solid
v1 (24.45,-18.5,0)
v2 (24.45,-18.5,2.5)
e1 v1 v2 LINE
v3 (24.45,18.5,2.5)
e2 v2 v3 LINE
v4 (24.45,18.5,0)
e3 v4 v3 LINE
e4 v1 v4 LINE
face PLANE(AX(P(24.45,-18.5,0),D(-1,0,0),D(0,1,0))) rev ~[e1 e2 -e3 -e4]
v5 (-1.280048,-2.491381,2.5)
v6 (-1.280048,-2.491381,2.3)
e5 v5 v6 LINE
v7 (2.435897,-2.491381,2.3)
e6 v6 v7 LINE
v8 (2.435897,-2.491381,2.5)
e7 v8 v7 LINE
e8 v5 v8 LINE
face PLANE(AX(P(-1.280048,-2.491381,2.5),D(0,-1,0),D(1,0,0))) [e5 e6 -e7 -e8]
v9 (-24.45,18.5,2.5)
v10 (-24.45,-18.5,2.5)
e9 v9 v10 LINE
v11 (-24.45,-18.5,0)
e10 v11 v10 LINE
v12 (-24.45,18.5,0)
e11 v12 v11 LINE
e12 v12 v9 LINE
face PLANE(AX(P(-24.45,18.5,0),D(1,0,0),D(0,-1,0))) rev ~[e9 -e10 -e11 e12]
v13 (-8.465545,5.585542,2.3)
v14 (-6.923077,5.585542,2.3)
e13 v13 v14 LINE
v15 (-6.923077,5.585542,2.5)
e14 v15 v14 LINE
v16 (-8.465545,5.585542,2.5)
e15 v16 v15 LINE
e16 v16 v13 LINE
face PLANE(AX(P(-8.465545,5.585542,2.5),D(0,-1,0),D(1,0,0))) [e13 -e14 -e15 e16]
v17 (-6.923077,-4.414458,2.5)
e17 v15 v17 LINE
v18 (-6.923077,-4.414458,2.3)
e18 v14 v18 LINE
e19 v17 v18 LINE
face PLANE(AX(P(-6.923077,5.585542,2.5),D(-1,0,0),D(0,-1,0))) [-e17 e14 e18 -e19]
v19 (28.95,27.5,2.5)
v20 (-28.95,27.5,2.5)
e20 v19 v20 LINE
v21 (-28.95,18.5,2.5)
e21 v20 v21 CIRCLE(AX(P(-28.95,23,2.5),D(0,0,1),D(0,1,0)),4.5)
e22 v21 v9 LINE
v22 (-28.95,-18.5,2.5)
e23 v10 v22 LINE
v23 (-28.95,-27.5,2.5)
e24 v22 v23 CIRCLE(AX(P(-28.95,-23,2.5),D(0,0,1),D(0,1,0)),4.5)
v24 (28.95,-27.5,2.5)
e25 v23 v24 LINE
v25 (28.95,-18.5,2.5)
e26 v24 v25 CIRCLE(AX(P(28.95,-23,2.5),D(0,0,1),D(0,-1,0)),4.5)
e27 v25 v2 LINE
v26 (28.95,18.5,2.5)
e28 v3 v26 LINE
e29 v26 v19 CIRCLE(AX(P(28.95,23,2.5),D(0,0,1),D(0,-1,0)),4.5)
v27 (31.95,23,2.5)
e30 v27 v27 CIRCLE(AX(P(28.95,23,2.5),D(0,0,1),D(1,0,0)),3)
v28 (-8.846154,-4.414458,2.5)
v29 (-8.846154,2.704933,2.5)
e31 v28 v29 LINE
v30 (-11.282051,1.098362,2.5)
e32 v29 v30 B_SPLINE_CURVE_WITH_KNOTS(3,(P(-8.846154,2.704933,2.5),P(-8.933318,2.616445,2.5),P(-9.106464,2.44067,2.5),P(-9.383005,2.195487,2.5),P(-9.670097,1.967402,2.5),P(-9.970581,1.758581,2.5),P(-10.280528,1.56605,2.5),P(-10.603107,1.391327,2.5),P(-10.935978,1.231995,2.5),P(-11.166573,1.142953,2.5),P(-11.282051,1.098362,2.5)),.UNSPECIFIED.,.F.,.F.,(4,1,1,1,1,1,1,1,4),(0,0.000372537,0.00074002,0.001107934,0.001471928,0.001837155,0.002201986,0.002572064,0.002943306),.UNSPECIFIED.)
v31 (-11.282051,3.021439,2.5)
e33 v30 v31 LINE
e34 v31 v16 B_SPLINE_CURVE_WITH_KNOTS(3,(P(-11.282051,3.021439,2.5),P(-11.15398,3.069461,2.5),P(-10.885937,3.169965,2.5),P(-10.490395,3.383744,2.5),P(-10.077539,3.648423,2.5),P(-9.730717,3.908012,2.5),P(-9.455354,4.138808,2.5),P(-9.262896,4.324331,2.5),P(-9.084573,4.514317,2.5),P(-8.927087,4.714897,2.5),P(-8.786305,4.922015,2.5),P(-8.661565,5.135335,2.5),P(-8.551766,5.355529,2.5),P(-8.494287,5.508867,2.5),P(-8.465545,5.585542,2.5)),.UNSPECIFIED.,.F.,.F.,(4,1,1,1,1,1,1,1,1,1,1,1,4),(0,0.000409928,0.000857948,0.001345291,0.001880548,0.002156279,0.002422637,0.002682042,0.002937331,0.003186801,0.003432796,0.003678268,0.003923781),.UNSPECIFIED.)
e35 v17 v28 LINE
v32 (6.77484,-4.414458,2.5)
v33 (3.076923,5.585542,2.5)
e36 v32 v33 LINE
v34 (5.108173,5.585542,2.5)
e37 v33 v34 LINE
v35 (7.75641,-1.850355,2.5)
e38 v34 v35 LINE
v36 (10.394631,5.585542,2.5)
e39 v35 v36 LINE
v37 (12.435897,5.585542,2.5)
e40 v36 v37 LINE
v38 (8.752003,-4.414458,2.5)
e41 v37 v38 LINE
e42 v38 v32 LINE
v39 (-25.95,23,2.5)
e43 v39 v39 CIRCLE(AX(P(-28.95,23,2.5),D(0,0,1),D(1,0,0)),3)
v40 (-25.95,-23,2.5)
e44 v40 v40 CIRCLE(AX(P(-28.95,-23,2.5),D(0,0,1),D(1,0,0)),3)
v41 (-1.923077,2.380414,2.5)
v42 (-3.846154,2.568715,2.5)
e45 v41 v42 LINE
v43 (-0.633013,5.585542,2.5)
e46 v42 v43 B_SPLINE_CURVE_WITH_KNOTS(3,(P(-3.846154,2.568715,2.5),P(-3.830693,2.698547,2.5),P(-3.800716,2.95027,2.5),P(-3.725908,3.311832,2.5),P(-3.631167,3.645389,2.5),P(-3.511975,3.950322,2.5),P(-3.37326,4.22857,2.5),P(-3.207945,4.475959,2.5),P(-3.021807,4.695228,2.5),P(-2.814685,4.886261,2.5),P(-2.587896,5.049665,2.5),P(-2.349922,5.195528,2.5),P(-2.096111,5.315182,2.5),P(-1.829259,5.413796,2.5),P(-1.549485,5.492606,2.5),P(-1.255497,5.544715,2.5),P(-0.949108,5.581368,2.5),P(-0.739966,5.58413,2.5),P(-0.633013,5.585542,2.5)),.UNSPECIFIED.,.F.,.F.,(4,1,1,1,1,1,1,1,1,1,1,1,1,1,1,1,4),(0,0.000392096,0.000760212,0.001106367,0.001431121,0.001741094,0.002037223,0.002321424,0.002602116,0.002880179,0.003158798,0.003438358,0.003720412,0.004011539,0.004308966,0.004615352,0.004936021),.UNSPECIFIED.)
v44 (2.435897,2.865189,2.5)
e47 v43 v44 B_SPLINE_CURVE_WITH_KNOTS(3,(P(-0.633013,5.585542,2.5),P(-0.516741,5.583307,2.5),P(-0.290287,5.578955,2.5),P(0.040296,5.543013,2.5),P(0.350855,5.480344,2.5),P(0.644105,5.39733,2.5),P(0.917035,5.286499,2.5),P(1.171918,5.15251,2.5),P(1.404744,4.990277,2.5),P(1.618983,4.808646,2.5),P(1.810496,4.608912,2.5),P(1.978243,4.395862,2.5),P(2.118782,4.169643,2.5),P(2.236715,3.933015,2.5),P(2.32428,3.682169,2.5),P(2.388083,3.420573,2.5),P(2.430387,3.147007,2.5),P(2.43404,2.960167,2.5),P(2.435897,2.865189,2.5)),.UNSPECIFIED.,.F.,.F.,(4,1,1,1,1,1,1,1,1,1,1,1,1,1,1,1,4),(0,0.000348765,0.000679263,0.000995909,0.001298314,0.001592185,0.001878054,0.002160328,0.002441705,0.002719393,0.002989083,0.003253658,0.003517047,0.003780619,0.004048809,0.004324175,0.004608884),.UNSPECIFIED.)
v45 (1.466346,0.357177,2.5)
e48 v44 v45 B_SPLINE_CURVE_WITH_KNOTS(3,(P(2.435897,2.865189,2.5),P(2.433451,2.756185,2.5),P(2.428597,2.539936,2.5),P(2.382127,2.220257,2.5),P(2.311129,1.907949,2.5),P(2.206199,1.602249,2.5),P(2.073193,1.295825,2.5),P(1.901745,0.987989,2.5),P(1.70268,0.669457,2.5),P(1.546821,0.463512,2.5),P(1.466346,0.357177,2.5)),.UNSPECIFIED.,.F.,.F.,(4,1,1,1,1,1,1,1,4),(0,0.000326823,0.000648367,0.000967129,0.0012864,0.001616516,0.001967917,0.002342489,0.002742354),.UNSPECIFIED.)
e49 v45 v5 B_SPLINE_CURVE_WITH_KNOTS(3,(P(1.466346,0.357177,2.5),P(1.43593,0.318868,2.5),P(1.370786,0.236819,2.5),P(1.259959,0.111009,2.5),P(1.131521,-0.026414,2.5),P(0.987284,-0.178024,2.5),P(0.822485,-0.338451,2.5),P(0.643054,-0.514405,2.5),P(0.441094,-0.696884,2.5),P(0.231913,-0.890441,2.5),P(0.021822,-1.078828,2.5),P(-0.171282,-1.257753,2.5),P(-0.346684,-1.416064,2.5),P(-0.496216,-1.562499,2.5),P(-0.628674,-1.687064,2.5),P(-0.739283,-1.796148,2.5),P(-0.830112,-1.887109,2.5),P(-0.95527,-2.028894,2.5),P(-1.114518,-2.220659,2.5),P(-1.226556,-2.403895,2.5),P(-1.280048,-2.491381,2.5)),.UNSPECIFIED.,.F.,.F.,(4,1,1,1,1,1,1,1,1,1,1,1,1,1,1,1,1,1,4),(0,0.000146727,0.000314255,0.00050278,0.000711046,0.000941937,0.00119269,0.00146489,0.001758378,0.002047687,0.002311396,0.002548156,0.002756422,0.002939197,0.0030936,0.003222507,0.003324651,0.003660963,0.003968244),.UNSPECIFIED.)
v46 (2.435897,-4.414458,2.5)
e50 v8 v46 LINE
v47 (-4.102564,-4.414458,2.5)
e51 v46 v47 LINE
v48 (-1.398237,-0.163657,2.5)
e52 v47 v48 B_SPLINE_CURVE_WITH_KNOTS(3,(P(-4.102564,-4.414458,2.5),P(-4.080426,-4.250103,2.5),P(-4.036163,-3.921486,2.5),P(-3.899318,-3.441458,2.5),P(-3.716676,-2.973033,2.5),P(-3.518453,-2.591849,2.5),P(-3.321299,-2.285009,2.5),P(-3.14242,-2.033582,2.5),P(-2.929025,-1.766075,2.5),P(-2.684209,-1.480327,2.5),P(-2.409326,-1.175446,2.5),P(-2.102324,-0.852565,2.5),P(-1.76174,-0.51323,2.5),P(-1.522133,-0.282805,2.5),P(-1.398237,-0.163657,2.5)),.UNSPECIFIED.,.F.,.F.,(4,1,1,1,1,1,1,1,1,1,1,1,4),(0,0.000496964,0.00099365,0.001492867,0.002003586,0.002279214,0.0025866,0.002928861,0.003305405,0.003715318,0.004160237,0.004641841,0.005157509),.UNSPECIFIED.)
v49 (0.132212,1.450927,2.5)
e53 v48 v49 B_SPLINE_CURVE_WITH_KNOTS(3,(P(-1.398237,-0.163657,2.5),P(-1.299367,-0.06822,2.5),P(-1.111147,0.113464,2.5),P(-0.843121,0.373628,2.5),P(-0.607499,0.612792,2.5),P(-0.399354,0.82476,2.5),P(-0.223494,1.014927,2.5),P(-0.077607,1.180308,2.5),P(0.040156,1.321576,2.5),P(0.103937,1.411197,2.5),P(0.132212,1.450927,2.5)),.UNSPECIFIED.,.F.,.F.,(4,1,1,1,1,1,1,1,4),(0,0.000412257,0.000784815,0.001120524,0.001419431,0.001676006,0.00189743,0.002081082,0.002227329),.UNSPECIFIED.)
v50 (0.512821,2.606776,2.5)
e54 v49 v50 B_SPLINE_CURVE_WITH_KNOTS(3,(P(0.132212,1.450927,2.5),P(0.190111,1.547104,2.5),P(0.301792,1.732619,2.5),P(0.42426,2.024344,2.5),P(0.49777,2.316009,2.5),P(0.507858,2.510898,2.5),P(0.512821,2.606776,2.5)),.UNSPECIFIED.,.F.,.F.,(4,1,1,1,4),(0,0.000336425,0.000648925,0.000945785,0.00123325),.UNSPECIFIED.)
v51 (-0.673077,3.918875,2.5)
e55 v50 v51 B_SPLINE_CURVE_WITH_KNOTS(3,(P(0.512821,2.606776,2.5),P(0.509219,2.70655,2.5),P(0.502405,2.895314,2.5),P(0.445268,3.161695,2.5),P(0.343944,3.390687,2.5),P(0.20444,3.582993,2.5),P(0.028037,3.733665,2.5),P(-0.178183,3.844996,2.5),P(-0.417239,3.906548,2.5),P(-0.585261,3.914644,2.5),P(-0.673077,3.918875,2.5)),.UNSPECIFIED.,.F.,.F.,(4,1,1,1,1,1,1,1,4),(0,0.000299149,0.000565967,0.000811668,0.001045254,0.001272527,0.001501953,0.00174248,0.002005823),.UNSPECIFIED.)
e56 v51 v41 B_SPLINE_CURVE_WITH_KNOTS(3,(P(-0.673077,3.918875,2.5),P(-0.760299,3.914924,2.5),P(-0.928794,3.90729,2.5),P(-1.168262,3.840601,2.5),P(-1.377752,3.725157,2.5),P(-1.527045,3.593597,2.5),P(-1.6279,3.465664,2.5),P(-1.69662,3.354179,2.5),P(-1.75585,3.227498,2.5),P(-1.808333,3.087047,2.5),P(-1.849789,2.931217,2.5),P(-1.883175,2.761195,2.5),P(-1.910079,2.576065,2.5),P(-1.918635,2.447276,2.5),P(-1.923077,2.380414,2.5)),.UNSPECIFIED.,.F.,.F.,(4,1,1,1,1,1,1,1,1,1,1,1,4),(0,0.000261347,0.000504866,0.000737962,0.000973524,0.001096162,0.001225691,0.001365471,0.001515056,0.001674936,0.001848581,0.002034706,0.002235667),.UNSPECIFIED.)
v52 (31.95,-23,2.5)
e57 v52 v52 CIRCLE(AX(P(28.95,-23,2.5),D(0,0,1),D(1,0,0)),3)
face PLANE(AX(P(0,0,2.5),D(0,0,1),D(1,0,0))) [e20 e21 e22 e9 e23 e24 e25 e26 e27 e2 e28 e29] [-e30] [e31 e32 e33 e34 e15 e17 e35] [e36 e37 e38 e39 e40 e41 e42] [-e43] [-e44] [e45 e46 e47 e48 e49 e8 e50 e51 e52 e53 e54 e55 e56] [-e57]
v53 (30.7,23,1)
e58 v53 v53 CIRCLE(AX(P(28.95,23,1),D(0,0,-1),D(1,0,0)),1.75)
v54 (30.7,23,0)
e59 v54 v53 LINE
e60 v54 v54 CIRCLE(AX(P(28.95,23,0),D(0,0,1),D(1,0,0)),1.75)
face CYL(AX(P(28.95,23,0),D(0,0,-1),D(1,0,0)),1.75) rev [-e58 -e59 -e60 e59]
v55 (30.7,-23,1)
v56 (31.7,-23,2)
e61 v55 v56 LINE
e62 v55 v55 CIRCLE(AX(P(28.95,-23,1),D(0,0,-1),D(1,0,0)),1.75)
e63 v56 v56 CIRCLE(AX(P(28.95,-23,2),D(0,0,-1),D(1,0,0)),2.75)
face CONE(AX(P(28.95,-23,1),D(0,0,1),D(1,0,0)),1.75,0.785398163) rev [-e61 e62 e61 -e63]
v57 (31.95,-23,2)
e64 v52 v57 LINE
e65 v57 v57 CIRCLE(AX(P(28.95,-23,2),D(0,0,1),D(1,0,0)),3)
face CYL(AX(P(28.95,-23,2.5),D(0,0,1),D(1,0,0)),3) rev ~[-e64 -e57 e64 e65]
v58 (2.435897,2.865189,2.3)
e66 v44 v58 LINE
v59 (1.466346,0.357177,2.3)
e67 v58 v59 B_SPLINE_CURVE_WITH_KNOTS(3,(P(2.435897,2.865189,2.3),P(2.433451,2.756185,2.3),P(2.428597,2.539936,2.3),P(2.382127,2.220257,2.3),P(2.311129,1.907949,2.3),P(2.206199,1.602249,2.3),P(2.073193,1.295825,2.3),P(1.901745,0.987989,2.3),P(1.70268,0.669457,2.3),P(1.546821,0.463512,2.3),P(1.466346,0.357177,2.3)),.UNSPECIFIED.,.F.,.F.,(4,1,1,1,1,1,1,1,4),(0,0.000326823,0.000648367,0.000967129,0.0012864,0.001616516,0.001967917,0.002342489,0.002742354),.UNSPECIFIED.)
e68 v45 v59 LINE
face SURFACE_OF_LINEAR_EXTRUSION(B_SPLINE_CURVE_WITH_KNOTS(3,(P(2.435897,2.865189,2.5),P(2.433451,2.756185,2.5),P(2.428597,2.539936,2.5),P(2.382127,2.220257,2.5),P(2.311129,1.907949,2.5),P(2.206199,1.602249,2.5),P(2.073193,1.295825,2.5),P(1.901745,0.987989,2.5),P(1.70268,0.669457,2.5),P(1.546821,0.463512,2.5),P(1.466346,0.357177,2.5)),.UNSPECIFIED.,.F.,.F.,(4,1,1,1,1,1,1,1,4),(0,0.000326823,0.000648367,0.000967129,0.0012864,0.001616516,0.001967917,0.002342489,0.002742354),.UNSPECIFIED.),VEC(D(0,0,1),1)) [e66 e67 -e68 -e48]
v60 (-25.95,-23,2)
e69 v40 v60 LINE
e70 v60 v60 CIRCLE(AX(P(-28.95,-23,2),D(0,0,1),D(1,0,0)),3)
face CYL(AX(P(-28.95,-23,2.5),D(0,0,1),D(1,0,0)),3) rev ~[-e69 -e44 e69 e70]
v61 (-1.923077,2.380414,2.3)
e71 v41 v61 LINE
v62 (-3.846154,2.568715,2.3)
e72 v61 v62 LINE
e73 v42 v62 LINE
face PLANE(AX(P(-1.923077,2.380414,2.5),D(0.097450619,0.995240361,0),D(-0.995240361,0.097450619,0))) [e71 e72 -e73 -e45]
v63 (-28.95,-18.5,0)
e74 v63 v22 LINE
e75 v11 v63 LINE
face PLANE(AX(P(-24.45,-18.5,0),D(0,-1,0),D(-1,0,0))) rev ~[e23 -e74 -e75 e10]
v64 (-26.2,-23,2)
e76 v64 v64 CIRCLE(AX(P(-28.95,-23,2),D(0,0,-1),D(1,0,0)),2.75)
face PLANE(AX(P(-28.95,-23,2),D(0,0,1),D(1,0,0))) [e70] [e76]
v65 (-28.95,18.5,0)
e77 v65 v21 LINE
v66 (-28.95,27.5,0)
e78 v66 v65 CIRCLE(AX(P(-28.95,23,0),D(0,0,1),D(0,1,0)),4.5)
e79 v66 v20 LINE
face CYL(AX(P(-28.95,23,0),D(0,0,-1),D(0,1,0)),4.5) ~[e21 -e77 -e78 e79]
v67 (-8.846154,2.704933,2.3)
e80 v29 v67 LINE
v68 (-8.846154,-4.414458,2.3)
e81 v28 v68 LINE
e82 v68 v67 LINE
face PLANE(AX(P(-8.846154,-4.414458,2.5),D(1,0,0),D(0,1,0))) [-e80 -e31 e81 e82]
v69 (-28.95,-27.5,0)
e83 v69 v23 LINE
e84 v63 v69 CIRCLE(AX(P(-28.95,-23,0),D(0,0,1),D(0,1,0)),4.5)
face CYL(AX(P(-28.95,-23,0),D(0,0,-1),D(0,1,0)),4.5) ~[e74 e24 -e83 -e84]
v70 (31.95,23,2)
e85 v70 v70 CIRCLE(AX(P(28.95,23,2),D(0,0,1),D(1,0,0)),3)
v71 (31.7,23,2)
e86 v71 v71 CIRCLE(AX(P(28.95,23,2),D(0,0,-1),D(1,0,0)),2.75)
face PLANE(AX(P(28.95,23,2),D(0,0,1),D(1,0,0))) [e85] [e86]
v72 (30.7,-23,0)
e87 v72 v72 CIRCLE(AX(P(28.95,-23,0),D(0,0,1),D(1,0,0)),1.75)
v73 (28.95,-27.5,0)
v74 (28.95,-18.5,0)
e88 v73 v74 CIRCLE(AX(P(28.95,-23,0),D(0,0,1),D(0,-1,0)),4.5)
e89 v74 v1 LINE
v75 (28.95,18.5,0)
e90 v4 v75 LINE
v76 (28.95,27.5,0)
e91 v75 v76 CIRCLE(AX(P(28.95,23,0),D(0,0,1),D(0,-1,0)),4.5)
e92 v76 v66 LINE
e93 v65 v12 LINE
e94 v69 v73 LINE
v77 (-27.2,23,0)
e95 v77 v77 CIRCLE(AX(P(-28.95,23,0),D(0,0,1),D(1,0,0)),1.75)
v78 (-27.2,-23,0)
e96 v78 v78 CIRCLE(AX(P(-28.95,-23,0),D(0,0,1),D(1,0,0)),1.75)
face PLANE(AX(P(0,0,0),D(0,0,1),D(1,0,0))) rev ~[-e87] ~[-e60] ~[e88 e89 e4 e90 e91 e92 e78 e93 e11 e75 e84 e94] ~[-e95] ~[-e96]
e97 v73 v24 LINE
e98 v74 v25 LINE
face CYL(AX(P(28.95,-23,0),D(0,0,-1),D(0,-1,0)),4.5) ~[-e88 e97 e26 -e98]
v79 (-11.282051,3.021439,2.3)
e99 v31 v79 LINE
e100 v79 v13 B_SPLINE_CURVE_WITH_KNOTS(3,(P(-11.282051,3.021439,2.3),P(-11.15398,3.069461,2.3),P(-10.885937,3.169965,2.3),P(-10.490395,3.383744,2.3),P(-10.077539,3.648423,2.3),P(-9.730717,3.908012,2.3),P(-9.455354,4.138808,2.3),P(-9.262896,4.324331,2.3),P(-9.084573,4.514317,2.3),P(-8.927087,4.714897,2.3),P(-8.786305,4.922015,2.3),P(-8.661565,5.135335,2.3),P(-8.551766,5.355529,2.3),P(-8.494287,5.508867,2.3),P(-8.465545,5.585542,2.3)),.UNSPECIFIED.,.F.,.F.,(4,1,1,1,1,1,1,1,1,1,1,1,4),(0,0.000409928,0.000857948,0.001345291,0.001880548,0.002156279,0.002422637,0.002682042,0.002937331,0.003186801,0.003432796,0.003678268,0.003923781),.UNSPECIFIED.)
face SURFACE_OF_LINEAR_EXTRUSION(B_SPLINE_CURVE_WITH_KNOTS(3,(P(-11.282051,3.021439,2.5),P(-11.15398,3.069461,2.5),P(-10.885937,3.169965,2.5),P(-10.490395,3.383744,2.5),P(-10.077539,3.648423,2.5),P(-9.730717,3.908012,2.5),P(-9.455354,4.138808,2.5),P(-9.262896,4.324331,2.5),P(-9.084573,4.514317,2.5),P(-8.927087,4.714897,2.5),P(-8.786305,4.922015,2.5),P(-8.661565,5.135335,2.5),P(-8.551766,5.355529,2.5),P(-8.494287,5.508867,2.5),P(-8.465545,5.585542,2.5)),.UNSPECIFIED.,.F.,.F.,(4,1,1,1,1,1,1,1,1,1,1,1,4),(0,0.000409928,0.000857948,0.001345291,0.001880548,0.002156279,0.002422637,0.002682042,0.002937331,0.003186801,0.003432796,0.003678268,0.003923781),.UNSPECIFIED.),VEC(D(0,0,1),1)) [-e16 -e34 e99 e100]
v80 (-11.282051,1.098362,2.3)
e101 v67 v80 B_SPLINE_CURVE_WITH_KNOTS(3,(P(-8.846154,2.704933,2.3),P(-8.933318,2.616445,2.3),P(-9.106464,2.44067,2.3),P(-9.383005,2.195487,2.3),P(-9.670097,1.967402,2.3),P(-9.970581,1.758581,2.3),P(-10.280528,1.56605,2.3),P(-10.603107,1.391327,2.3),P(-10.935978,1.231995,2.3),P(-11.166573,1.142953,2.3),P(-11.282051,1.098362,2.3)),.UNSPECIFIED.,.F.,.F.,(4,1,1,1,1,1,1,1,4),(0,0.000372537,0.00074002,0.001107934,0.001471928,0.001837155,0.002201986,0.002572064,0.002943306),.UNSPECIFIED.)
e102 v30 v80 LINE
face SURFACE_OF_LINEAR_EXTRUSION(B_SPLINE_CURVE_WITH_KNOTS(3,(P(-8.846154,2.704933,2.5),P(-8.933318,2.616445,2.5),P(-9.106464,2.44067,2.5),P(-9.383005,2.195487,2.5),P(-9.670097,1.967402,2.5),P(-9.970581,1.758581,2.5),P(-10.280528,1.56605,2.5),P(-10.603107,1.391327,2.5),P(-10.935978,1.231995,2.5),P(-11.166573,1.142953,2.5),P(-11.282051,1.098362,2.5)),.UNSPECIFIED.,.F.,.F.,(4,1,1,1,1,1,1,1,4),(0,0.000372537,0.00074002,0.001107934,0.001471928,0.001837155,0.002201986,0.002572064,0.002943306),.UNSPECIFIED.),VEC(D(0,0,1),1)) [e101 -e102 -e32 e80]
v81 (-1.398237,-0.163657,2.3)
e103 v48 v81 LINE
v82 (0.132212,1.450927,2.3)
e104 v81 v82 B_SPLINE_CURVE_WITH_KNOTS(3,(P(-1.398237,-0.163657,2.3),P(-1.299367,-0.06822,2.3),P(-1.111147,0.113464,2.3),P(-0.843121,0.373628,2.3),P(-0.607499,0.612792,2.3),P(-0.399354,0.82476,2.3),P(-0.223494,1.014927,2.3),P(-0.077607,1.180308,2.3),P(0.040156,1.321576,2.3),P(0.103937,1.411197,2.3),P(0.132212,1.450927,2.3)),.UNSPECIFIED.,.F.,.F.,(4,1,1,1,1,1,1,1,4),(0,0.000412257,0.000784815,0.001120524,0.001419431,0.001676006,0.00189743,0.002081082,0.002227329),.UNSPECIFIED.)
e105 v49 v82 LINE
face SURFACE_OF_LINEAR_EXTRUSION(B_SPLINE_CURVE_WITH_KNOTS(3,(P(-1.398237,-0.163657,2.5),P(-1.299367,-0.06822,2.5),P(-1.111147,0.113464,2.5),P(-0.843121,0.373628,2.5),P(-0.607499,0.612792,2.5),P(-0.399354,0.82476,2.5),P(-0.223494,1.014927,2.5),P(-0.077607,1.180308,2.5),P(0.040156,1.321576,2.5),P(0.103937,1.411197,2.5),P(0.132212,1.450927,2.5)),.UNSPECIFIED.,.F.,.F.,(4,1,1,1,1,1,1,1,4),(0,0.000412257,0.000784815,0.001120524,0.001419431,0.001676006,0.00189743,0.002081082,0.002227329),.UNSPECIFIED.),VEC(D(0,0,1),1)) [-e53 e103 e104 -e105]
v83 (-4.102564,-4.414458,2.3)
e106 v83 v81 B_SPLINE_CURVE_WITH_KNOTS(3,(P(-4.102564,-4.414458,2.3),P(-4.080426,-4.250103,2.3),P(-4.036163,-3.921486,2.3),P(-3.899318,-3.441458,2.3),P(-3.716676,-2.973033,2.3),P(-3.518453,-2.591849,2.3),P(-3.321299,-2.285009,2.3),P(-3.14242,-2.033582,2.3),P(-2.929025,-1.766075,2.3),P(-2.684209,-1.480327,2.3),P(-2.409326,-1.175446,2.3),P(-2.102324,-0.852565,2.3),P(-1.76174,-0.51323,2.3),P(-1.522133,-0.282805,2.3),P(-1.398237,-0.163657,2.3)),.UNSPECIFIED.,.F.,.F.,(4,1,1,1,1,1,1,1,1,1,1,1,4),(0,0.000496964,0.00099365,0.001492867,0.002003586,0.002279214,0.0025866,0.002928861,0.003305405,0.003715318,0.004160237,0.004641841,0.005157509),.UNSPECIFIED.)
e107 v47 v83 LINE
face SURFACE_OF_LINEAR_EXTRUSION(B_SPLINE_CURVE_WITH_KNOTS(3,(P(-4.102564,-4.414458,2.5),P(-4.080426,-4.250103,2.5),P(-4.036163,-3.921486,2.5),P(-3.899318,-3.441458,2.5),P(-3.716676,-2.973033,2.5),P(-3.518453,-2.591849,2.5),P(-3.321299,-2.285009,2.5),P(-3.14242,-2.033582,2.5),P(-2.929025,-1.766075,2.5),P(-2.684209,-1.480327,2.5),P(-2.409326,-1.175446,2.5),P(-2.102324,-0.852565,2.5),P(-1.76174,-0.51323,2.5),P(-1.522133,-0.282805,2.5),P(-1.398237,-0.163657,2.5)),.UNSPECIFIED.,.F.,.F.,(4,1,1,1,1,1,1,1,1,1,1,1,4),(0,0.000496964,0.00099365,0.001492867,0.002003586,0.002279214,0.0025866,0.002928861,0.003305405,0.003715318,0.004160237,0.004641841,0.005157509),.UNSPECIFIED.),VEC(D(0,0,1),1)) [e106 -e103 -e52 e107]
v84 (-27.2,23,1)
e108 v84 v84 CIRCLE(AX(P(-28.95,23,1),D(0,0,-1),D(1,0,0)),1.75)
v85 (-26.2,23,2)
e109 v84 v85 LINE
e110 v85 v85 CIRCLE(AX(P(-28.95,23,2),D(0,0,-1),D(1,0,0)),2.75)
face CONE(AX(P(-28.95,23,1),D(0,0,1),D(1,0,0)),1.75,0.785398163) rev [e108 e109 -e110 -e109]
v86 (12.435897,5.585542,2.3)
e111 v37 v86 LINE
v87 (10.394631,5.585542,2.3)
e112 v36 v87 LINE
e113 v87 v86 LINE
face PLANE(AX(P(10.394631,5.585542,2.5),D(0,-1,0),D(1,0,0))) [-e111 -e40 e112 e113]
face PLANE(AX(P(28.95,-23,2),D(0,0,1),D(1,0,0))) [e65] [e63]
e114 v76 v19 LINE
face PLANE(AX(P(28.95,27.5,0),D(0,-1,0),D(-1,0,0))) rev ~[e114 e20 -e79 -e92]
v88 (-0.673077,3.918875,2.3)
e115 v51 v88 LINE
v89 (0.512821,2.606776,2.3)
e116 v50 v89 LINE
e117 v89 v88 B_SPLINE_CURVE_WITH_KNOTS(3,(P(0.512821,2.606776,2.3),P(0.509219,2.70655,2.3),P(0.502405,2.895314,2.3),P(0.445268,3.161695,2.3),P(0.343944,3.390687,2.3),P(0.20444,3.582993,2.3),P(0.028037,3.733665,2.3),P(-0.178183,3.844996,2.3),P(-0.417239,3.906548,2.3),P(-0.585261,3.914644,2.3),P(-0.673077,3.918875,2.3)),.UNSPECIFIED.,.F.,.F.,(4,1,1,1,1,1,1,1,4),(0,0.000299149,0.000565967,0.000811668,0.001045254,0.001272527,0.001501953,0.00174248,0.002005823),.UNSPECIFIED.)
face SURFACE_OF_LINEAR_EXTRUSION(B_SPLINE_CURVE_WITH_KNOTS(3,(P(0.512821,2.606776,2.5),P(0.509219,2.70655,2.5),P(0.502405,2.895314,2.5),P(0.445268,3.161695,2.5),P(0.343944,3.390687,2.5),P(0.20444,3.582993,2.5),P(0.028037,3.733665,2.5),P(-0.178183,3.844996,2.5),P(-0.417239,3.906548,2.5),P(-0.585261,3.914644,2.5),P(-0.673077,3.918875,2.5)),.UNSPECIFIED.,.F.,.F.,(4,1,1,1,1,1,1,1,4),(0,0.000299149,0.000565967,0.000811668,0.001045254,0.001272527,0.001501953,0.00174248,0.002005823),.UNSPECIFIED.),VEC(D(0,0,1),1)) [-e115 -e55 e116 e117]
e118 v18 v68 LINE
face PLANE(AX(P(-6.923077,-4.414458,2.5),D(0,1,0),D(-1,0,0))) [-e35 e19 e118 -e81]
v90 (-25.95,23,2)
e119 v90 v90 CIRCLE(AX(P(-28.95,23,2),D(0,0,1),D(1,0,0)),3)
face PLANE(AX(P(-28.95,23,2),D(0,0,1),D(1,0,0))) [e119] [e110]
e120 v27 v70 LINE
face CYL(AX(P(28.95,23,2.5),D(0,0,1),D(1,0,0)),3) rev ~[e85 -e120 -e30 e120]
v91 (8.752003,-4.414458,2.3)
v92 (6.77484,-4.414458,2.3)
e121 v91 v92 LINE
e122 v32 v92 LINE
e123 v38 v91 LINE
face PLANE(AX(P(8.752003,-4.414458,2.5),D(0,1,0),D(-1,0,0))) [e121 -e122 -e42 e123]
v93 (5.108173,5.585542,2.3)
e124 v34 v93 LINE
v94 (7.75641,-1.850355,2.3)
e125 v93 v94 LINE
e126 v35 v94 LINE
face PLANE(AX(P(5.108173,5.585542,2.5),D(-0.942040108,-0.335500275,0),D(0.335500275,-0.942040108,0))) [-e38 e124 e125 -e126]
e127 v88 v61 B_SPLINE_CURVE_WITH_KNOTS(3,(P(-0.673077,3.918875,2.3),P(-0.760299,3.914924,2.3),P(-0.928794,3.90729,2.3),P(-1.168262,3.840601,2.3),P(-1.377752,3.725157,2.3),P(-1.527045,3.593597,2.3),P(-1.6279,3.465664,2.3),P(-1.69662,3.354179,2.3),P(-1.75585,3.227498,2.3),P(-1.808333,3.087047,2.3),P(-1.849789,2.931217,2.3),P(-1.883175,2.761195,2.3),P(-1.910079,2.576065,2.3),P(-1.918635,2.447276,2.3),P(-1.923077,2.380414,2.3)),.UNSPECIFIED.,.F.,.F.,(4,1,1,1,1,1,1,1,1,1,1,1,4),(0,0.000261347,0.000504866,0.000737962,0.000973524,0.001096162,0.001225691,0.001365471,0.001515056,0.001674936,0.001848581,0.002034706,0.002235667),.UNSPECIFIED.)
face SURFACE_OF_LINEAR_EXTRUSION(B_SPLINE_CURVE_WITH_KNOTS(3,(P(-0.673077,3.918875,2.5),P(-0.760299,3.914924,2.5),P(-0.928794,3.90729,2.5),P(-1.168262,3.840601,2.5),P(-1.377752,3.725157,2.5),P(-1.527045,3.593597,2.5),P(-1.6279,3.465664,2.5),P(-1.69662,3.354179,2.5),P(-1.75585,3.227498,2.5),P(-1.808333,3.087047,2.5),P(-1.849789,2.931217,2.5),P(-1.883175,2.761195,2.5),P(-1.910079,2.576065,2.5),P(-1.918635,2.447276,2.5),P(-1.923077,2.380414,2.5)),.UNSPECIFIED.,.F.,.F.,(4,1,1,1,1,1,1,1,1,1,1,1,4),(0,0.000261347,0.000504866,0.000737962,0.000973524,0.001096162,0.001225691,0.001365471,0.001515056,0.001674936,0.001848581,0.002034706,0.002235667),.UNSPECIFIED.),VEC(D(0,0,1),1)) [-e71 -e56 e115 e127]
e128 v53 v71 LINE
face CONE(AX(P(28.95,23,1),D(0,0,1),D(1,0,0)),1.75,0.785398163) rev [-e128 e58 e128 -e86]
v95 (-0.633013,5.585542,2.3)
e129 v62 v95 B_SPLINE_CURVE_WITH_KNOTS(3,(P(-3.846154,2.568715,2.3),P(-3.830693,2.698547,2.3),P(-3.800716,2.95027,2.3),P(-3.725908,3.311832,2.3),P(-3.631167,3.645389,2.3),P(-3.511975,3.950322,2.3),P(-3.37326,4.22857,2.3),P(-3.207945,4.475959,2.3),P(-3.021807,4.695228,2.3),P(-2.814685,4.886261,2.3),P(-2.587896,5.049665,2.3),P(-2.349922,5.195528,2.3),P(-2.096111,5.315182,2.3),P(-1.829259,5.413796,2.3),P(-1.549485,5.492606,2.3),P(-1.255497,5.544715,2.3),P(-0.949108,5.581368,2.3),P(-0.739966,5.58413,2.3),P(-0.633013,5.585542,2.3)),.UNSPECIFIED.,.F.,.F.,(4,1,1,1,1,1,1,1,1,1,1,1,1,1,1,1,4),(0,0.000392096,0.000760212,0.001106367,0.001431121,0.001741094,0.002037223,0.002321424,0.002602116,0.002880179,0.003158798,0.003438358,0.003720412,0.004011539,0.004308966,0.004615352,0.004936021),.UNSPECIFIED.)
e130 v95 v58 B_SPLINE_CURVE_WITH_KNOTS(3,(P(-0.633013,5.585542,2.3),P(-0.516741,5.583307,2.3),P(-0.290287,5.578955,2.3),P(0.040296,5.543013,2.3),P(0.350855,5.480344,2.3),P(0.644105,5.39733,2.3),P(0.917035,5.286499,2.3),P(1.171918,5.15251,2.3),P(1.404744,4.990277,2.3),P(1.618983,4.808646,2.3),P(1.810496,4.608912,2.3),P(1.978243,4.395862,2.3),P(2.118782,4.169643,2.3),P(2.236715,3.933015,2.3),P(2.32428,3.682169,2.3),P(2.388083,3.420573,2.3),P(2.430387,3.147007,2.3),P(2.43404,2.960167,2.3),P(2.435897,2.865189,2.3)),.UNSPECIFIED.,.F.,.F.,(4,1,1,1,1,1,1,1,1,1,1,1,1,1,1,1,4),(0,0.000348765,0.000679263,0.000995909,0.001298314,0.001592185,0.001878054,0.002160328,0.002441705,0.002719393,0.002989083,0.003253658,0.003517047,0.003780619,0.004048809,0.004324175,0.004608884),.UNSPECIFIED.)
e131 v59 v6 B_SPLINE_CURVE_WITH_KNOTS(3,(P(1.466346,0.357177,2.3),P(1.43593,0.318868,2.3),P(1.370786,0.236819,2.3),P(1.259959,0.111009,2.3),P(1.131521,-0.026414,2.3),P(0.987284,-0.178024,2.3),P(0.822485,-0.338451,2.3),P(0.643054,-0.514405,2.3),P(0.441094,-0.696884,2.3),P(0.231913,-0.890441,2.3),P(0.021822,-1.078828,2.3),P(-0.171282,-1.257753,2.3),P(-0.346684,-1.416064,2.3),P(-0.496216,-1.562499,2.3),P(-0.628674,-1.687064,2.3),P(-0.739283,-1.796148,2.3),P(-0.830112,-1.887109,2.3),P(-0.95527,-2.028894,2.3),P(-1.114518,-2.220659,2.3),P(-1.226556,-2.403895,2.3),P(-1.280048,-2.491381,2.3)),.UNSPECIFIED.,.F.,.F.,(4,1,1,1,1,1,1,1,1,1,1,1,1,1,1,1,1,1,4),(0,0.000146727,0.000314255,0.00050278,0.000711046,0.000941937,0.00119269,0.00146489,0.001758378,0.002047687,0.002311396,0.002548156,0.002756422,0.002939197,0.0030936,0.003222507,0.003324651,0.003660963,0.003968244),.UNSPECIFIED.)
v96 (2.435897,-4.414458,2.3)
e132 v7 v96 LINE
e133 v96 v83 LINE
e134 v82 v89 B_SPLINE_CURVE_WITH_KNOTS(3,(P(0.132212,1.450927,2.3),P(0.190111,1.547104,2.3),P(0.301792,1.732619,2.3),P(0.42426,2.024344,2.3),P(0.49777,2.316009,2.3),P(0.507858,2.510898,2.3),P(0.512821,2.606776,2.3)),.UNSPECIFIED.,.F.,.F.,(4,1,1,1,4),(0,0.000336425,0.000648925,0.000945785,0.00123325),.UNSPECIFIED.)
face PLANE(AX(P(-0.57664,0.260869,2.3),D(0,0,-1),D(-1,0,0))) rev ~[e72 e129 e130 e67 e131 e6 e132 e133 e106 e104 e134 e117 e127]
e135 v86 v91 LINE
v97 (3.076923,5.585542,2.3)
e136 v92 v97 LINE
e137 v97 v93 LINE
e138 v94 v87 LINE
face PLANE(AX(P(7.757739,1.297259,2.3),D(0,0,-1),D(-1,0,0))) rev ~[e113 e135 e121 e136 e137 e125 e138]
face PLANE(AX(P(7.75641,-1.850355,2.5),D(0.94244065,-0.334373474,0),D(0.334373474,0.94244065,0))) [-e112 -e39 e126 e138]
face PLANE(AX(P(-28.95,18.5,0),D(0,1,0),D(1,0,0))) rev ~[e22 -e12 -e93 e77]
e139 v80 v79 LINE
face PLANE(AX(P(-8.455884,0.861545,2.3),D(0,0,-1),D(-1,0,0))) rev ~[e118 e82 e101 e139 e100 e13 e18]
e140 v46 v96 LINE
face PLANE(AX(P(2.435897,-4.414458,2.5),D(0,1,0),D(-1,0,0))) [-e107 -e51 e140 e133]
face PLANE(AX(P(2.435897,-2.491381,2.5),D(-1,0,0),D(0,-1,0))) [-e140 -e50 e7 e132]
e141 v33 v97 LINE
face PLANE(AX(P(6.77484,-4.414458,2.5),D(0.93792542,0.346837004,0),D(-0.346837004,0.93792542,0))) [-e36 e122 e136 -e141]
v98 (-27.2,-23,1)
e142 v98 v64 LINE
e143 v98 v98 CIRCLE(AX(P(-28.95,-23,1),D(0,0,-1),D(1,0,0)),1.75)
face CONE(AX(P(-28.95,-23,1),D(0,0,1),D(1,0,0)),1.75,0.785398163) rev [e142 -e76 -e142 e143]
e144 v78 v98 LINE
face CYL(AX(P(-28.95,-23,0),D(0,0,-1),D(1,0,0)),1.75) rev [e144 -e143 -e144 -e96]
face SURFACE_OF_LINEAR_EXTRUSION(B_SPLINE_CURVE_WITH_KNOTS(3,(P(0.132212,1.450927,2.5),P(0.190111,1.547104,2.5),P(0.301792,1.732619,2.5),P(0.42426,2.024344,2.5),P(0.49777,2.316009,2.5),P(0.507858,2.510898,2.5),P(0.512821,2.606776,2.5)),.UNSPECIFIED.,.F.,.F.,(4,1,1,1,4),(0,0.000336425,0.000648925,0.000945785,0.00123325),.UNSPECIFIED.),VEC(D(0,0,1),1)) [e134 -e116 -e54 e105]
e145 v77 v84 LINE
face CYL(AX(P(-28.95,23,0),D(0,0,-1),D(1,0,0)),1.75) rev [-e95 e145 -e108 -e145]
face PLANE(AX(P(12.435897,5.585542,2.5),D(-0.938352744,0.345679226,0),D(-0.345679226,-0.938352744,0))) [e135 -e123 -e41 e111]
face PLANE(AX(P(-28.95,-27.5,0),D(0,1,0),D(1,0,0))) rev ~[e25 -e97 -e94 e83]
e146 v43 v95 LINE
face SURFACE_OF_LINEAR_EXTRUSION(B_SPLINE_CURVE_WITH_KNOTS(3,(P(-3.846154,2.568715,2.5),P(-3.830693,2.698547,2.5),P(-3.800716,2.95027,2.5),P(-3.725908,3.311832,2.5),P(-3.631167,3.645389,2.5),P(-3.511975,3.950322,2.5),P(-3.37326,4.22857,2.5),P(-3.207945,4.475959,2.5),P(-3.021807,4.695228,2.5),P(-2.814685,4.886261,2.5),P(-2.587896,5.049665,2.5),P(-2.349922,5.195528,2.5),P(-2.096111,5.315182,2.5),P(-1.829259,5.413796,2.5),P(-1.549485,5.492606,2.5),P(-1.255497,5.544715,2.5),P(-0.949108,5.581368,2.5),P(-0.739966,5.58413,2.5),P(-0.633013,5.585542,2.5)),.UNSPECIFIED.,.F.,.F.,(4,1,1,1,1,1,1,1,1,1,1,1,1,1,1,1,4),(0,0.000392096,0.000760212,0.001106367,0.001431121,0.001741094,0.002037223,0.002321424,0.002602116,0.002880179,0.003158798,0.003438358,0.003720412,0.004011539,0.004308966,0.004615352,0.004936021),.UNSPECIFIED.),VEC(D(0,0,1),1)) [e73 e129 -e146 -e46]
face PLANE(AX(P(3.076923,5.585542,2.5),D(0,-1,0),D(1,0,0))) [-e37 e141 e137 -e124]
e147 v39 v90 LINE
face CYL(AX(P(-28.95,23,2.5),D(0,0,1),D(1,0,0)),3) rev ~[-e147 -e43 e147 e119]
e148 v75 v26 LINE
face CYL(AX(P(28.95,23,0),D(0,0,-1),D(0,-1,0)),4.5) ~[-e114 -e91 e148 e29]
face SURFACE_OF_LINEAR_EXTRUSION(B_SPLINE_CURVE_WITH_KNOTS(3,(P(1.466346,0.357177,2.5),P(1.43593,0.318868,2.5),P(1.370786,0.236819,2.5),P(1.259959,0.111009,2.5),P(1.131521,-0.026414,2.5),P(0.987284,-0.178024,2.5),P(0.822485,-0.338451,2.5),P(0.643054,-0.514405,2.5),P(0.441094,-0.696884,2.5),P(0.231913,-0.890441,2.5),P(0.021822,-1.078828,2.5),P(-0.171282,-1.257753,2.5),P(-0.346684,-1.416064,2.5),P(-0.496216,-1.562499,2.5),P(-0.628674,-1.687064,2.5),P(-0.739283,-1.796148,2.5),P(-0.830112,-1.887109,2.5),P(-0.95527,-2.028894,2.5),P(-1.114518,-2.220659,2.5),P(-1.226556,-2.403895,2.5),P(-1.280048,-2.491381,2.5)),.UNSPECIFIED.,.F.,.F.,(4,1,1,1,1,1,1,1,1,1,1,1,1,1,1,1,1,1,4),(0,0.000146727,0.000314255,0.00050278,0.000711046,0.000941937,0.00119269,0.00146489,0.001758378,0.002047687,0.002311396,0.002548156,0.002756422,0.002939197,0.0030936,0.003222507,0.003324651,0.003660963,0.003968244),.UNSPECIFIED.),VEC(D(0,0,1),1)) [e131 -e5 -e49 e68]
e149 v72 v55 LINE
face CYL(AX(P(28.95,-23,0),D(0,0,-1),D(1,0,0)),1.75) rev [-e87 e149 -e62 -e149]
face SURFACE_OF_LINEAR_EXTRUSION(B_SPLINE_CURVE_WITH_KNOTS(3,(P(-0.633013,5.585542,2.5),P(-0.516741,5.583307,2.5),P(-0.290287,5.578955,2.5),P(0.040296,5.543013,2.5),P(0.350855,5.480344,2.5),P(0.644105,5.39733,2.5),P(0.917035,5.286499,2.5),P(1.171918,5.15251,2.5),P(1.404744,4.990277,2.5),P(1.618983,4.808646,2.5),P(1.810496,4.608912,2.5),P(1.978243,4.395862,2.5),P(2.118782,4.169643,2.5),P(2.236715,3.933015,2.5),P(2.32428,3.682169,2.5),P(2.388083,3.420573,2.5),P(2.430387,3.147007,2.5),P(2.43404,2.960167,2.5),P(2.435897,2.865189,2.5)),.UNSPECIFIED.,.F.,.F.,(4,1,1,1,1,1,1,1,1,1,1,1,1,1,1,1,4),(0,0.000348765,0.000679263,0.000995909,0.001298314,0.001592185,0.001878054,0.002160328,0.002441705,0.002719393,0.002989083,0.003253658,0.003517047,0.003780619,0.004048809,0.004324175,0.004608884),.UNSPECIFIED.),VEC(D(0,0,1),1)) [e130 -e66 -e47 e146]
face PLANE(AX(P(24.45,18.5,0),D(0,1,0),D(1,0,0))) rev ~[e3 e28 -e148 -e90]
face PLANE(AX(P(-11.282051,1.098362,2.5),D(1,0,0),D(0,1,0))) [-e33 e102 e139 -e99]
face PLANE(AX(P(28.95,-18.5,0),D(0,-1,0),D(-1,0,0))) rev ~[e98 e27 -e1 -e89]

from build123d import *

# Parameters (mm, degrees)
SKETCH1_R           = 1.75
BOSS_EXTRUDE1_DEPTH = 2.5
CUT_EXTRUDE1_DEPTH  = 0.2
SKETCH5_R           = 3
CUT_EXTRUDE2_DEPTH  = 0.5
CHAMFER2_SIZE       = 1


with BuildPart() as part:
    # Sketch1 → Boss-Extrude1 (new body)
    with BuildSketch(Plane.XY):
        with BuildLine():
            ThreePointArc((-28.95, 27.5), (-33.45, 23), (-28.95, 18.5))
            Line((-28.95, 18.5), (-24.45, 18.5))
            Line((-24.45, 18.5), (-24.45, -18.5))
            Line((-24.45, -18.5), (-28.95, -18.5))
            ThreePointArc((-28.95, -18.5), (-33.45, -23), (-28.95, -27.5))
            Line((-28.95, -27.5), (28.95, -27.5))
            ThreePointArc((28.95, -27.5), (33.45, -23), (28.95, -18.5))
            Line((28.95, -18.5), (24.45, -18.5))
            Line((24.45, -18.5), (24.45, 18.5))
            Line((24.45, 18.5), (28.95, 18.5))
            ThreePointArc((28.95, 18.5), (33.45, 23), (28.95, 27.5))
            Line((28.95, 27.5), (-28.95, 27.5))
        make_face()
        with Locations((-28.95, -23)):
            Circle(SKETCH1_R, mode=Mode.SUBTRACT)
        with Locations((-28.95, 23)):
            Circle(SKETCH1_R, mode=Mode.SUBTRACT)
        with Locations((28.95, 23)):
            Circle(SKETCH1_R, mode=Mode.SUBTRACT)
        with Locations((28.95, -23)):
            Circle(SKETCH1_R, mode=Mode.SUBTRACT)
    extrude(amount=BOSS_EXTRUDE1_DEPTH)

    # Sketch4 → Cut-Extrude1 (cut)
    with BuildSketch(Plane.XY.offset(2.5)):
        with BuildLine():
            Line((-6.923076923, -4.414458023), (-8.846153846, -4.414458023))
            Line((-8.846153846, -4.414458023), (-8.846153846, 2.704933003))
            add(Edge.make_bspline(
                [(-8.846153846, 2.704933003), (-8.933318023, 2.616445103), (-9.106463901, 2.440669737), (-9.383005145, 2.19548654), (-9.670097117, 1.967401521), (-9.970580856, 1.758581072), (-10.280528273, 1.566049869), (-10.603106853, 1.391327059), (-10.935978437, 1.231995104), (-11.166572995, 1.142953291), (-11.282051282, 1.09836249)],
                knots=[0, 0, 0, 0, 0.000372537, 0.00074002, 0.001107934, 0.001471928, 0.001837155, 0.002201986, 0.002572064, 0.002943306, 0.002943306, 0.002943306, 0.002943306], degree=3))
            Line((-11.282051282, 1.09836249), (-11.282051282, 3.021439413))
            add(Edge.make_bspline(
                [(-11.282051282, 3.021439413), (-11.153980048, 3.06946063), (-10.88593692, 3.1699653), (-10.490395403, 3.38374383), (-10.077539391, 3.648423218), (-9.730716774, 3.908012402), (-9.455353873, 4.138807932), (-9.26289614, 4.324331325), (-9.084572984, 4.514316902), (-8.927087219, 4.714896702), (-8.786304768, 4.922015444), (-8.661565378, 5.135334763), (-8.551766041, 5.355528522), (-8.494286856, 5.508866571), (-8.465544872, 5.585541977)],
                knots=[0, 0, 0, 0, 0.000409928, 0.000857948, 0.001345291, 0.001880548, 0.002156279, 0.002422637, 0.002682042, 0.002937331, 0.003186801, 0.003432796, 0.003678268, 0.003923781, 0.003923781, 0.003923781, 0.003923781], degree=3))
            Line((-8.465544872, 5.585541977), (-6.923076923, 5.585541977))
            Line((-6.923076923, 5.585541977), (-6.923076923, -4.414458023))
        make_face()
        with BuildLine():
            Line((2.435897436, -2.4913811), (2.435897436, -4.414458023))
            Line((2.435897436, -4.414458023), (-4.102564103, -4.414458023))
            add(Edge.make_bspline(
                [(-4.102564103, -4.414458023), (-4.080426387, -4.250103198), (-4.036163368, -3.921485704), (-3.899317938, -3.441458257), (-3.716676165, -2.973033485), (-3.518453211, -2.59184942), (-3.321298527, -2.285009365), (-3.142420071, -2.033582253), (-2.929024642, -1.766074598), (-2.684208836, -1.480326872), (-2.409325608, -1.175445832), (-2.102324151, -0.852564961), (-1.761740021, -0.513229981), (-1.522133018, -0.282804832), (-1.398237179, -0.163656741)],
                knots=[0, 0, 0, 0, 0.000496964, 0.00099365, 0.001492867, 0.002003586, 0.002279214, 0.0025866, 0.002928861, 0.003305405, 0.003715318, 0.004160237, 0.004641841, 0.005157509, 0.005157509, 0.005157509, 0.005157509], degree=3))
            add(Edge.make_bspline(
                [(-1.398237179, -0.163656741), (-1.299366883, -0.068219837), (-1.111146958, 0.113463921), (-0.843121421, 0.373627698), (-0.607499354, 0.612792158), (-0.399354228, 0.824759525), (-0.22349449, 1.014927025), (-0.077606865, 1.180308106), (0.040156295, 1.321576252), (0.103936924, 1.411196852), (0.132211538, 1.450926592)],
                knots=[0, 0, 0, 0, 0.000412257, 0.000784815, 0.001120524, 0.001419431, 0.001676006, 0.00189743, 0.002081082, 0.002227329, 0.002227329, 0.002227329, 0.002227329], degree=3))
            add(Edge.make_bspline(
                [(0.132211538, 1.450926592), (0.190111047, 1.547103861), (0.30179249, 1.73261867), (0.424260458, 2.024344061), (0.497770298, 2.316009192), (0.507857836, 2.510898163), (0.512820513, 2.606775951)],
                knots=[0, 0, 0, 0, 0.000336425, 0.000648925, 0.000945785, 0.00123325, 0.00123325, 0.00123325, 0.00123325], degree=3))
            add(Edge.make_bspline(
                [(0.512820513, 2.606775951), (0.509218846, 2.70654968), (0.502404775, 2.895313794), (0.445267605, 3.161694863), (0.343944107, 3.390687129), (0.204440295, 3.582993487), (0.028037447, 3.733664782), (-0.178182613, 3.844996243), (-0.417238616, 3.906548032), (-0.585261277, 3.914644013), (-0.673076923, 3.91887531)],
                knots=[0, 0, 0, 0, 0.000299149, 0.000565967, 0.000811668, 0.001045254, 0.001272527, 0.001501953, 0.00174248, 0.002005823, 0.002005823, 0.002005823, 0.002005823], degree=3))
            add(Edge.make_bspline(
                [(-0.673076923, 3.91887531), (-0.760299295, 3.914923595), (-0.928794085, 3.907289734), (-1.168261741, 3.840601371), (-1.377751743, 3.7251568), (-1.52704546, 3.593596575), (-1.627900447, 3.465663812), (-1.696619517, 3.354178836), (-1.755849991, 3.227497715), (-1.808333132, 3.087046666), (-1.84978888, 2.931216675), (-1.883174765, 2.761194545), (-1.910078959, 2.576065314), (-1.918634967, 2.447276207), (-1.923076923, 2.380413772)],
                knots=[0, 0, 0, 0, 0.000261347, 0.000504866, 0.000737962, 0.000973524, 0.001096162, 0.001225691, 0.001365471, 0.001515056, 0.001674936, 0.001848581, 0.002034706, 0.002235667, 0.002235667, 0.002235667, 0.002235667], degree=3))
            Line((-1.923076923, 2.380413772), (-3.846153846, 2.568715054))
            add(Edge.make_bspline(
                [(-3.846153846, 2.568715054), (-3.830692606, 2.698546985), (-3.80071573, 2.950270356), (-3.725907936, 3.311831909), (-3.631166636, 3.645388763), (-3.511975194, 3.950321896), (-3.373259936, 4.228570387), (-3.207945231, 4.475958944), (-3.021807349, 4.695227932), (-2.814685425, 4.886260652), (-2.5878962, 5.049664829), (-2.349921603, 5.195528131), (-2.096110944, 5.315182407), (-1.829258686, 5.413795508), (-1.549485425, 5.49260631), (-1.255497172, 5.544714943), (-0.949108314, 5.581368356), (-0.739966, 5.584129802), (-0.633012821, 5.585541977)],
                knots=[0, 0, 0, 0, 0.000392096, 0.000760212, 0.001106367, 0.001431121, 0.001741094, 0.002037223, 0.002321424, 0.002602116, 0.002880179, 0.003158798, 0.003438358, 0.003720412, 0.004011539, 0.004308966, 0.004615352, 0.004936021, 0.004936021, 0.004936021, 0.004936021], degree=3))
            add(Edge.make_bspline(
                [(-0.633012821, 5.585541977), (-0.516740897, 5.583307291), (-0.290286727, 5.57895496), (0.040296159, 5.543013371), (0.350855029, 5.480344005), (0.644105005, 5.397329559), (0.917034567, 5.286499204), (1.171918028, 5.152509913), (1.404743968, 4.990276522), (1.618982973, 4.808646307), (1.810495503, 4.608911963), (1.978243149, 4.395861516), (2.118781575, 4.169643399), (2.236714897, 3.93301496), (2.324279592, 3.682168505), (2.388083037, 3.420572552), (2.43038729, 3.147006702), (2.434040407, 2.960167431), (2.435897436, 2.865189413)],
                knots=[0, 0, 0, 0, 0.000348765, 0.000679263, 0.000995909, 0.001298314, 0.001592185, 0.001878054, 0.002160328, 0.002441705, 0.002719393, 0.002989083, 0.003253658, 0.003517047, 0.003780619, 0.004048809, 0.004324175, 0.004608884, 0.004608884, 0.004608884, 0.004608884], degree=3))
            add(Edge.make_bspline(
                [(2.435897436, 2.865189413), (2.433450826, 2.756184824), (2.428597126, 2.539936446), (2.382126554, 2.220256739), (2.311128567, 1.907948806), (2.206199134, 1.602249395), (2.073192931, 1.295825486), (1.901744746, 0.987989283), (1.702680436, 0.669456993), (1.546820928, 0.463511968), (1.466346154, 0.357176592)],
                knots=[0, 0, 0, 0, 0.000326823, 0.000648367, 0.000967129, 0.0012864, 0.001616516, 0.001967917, 0.002342489, 0.002742354, 0.002742354, 0.002742354, 0.002742354], degree=3))
            add(Edge.make_bspline(
                [(1.466346154, 0.357176592), (1.435930222, 0.318867637), (1.370786347, 0.236818733), (1.259959496, 0.111009427), (1.131520709, -0.026413994), (0.987284126, -0.178023781), (0.82248533, -0.338451015), (0.643053791, -0.51440464), (0.441093999, -0.696884043), (0.231912595, -0.890441198), (0.021821946, -1.078827655), (-0.171281651, -1.257753025), (-0.34668397, -1.416063548), (-0.496216198, -1.562498691), (-0.628673782, -1.687064362), (-0.739282513, -1.796148144), (-0.830112141, -1.887109206), (-0.955269523, -2.028894425), (-1.114518089, -2.220658992), (-1.226555966, -2.40389546), (-1.280048077, -2.4913811)],
                knots=[0, 0, 0, 0, 0.000146727, 0.000314255, 0.00050278, 0.000711046, 0.000941937, 0.00119269, 0.00146489, 0.001758378, 0.002047687, 0.002311396, 0.002548156, 0.002756422, 0.002939197, 0.0030936, 0.003222507, 0.003324651, 0.003660963, 0.003968244, 0.003968244, 0.003968244, 0.003968244], degree=3))
            Line((-1.280048077, -2.4913811), (2.435897436, -2.4913811))
        make_face()
        Polygon((6.774839744, -4.414458023), (3.076923077, 5.585541977), (5.108173077, 5.585541977), (7.756410256, -1.850355459), (10.39463141, 5.585541977), (12.435897436, 5.585541977), (8.752003205, -4.414458023), align=None)
    extrude(amount=-CUT_EXTRUDE1_DEPTH, mode=Mode.SUBTRACT)

    # Sketch5 → Cut-Extrude2 (cut)
    with BuildSketch(Plane.XY.offset(2.5)):
        with Locations((-28.95, 23)):
            Circle(SKETCH5_R)
        with Locations((28.95, 23)):
            Circle(SKETCH5_R)
        with Locations((28.95, -23)):
            Circle(SKETCH5_R)
        with Locations((-28.95, -23)):
            Circle(SKETCH5_R)
    extrude(amount=-CUT_EXTRUDE2_DEPTH, mode=Mode.SUBTRACT)

    # Chamfer2
    chamfer2_edges = [part.edges().sort_by_distance(p)[0] for p in [
        (-30.7, 23, 2),
        (27.2, 23, 2),
        (27.2, -23, 2),
        (-30.7, -23, 2),
    ]]
    chamfer(chamfer2_edges, length=CHAMFER2_SIZE)


solid = part.part
